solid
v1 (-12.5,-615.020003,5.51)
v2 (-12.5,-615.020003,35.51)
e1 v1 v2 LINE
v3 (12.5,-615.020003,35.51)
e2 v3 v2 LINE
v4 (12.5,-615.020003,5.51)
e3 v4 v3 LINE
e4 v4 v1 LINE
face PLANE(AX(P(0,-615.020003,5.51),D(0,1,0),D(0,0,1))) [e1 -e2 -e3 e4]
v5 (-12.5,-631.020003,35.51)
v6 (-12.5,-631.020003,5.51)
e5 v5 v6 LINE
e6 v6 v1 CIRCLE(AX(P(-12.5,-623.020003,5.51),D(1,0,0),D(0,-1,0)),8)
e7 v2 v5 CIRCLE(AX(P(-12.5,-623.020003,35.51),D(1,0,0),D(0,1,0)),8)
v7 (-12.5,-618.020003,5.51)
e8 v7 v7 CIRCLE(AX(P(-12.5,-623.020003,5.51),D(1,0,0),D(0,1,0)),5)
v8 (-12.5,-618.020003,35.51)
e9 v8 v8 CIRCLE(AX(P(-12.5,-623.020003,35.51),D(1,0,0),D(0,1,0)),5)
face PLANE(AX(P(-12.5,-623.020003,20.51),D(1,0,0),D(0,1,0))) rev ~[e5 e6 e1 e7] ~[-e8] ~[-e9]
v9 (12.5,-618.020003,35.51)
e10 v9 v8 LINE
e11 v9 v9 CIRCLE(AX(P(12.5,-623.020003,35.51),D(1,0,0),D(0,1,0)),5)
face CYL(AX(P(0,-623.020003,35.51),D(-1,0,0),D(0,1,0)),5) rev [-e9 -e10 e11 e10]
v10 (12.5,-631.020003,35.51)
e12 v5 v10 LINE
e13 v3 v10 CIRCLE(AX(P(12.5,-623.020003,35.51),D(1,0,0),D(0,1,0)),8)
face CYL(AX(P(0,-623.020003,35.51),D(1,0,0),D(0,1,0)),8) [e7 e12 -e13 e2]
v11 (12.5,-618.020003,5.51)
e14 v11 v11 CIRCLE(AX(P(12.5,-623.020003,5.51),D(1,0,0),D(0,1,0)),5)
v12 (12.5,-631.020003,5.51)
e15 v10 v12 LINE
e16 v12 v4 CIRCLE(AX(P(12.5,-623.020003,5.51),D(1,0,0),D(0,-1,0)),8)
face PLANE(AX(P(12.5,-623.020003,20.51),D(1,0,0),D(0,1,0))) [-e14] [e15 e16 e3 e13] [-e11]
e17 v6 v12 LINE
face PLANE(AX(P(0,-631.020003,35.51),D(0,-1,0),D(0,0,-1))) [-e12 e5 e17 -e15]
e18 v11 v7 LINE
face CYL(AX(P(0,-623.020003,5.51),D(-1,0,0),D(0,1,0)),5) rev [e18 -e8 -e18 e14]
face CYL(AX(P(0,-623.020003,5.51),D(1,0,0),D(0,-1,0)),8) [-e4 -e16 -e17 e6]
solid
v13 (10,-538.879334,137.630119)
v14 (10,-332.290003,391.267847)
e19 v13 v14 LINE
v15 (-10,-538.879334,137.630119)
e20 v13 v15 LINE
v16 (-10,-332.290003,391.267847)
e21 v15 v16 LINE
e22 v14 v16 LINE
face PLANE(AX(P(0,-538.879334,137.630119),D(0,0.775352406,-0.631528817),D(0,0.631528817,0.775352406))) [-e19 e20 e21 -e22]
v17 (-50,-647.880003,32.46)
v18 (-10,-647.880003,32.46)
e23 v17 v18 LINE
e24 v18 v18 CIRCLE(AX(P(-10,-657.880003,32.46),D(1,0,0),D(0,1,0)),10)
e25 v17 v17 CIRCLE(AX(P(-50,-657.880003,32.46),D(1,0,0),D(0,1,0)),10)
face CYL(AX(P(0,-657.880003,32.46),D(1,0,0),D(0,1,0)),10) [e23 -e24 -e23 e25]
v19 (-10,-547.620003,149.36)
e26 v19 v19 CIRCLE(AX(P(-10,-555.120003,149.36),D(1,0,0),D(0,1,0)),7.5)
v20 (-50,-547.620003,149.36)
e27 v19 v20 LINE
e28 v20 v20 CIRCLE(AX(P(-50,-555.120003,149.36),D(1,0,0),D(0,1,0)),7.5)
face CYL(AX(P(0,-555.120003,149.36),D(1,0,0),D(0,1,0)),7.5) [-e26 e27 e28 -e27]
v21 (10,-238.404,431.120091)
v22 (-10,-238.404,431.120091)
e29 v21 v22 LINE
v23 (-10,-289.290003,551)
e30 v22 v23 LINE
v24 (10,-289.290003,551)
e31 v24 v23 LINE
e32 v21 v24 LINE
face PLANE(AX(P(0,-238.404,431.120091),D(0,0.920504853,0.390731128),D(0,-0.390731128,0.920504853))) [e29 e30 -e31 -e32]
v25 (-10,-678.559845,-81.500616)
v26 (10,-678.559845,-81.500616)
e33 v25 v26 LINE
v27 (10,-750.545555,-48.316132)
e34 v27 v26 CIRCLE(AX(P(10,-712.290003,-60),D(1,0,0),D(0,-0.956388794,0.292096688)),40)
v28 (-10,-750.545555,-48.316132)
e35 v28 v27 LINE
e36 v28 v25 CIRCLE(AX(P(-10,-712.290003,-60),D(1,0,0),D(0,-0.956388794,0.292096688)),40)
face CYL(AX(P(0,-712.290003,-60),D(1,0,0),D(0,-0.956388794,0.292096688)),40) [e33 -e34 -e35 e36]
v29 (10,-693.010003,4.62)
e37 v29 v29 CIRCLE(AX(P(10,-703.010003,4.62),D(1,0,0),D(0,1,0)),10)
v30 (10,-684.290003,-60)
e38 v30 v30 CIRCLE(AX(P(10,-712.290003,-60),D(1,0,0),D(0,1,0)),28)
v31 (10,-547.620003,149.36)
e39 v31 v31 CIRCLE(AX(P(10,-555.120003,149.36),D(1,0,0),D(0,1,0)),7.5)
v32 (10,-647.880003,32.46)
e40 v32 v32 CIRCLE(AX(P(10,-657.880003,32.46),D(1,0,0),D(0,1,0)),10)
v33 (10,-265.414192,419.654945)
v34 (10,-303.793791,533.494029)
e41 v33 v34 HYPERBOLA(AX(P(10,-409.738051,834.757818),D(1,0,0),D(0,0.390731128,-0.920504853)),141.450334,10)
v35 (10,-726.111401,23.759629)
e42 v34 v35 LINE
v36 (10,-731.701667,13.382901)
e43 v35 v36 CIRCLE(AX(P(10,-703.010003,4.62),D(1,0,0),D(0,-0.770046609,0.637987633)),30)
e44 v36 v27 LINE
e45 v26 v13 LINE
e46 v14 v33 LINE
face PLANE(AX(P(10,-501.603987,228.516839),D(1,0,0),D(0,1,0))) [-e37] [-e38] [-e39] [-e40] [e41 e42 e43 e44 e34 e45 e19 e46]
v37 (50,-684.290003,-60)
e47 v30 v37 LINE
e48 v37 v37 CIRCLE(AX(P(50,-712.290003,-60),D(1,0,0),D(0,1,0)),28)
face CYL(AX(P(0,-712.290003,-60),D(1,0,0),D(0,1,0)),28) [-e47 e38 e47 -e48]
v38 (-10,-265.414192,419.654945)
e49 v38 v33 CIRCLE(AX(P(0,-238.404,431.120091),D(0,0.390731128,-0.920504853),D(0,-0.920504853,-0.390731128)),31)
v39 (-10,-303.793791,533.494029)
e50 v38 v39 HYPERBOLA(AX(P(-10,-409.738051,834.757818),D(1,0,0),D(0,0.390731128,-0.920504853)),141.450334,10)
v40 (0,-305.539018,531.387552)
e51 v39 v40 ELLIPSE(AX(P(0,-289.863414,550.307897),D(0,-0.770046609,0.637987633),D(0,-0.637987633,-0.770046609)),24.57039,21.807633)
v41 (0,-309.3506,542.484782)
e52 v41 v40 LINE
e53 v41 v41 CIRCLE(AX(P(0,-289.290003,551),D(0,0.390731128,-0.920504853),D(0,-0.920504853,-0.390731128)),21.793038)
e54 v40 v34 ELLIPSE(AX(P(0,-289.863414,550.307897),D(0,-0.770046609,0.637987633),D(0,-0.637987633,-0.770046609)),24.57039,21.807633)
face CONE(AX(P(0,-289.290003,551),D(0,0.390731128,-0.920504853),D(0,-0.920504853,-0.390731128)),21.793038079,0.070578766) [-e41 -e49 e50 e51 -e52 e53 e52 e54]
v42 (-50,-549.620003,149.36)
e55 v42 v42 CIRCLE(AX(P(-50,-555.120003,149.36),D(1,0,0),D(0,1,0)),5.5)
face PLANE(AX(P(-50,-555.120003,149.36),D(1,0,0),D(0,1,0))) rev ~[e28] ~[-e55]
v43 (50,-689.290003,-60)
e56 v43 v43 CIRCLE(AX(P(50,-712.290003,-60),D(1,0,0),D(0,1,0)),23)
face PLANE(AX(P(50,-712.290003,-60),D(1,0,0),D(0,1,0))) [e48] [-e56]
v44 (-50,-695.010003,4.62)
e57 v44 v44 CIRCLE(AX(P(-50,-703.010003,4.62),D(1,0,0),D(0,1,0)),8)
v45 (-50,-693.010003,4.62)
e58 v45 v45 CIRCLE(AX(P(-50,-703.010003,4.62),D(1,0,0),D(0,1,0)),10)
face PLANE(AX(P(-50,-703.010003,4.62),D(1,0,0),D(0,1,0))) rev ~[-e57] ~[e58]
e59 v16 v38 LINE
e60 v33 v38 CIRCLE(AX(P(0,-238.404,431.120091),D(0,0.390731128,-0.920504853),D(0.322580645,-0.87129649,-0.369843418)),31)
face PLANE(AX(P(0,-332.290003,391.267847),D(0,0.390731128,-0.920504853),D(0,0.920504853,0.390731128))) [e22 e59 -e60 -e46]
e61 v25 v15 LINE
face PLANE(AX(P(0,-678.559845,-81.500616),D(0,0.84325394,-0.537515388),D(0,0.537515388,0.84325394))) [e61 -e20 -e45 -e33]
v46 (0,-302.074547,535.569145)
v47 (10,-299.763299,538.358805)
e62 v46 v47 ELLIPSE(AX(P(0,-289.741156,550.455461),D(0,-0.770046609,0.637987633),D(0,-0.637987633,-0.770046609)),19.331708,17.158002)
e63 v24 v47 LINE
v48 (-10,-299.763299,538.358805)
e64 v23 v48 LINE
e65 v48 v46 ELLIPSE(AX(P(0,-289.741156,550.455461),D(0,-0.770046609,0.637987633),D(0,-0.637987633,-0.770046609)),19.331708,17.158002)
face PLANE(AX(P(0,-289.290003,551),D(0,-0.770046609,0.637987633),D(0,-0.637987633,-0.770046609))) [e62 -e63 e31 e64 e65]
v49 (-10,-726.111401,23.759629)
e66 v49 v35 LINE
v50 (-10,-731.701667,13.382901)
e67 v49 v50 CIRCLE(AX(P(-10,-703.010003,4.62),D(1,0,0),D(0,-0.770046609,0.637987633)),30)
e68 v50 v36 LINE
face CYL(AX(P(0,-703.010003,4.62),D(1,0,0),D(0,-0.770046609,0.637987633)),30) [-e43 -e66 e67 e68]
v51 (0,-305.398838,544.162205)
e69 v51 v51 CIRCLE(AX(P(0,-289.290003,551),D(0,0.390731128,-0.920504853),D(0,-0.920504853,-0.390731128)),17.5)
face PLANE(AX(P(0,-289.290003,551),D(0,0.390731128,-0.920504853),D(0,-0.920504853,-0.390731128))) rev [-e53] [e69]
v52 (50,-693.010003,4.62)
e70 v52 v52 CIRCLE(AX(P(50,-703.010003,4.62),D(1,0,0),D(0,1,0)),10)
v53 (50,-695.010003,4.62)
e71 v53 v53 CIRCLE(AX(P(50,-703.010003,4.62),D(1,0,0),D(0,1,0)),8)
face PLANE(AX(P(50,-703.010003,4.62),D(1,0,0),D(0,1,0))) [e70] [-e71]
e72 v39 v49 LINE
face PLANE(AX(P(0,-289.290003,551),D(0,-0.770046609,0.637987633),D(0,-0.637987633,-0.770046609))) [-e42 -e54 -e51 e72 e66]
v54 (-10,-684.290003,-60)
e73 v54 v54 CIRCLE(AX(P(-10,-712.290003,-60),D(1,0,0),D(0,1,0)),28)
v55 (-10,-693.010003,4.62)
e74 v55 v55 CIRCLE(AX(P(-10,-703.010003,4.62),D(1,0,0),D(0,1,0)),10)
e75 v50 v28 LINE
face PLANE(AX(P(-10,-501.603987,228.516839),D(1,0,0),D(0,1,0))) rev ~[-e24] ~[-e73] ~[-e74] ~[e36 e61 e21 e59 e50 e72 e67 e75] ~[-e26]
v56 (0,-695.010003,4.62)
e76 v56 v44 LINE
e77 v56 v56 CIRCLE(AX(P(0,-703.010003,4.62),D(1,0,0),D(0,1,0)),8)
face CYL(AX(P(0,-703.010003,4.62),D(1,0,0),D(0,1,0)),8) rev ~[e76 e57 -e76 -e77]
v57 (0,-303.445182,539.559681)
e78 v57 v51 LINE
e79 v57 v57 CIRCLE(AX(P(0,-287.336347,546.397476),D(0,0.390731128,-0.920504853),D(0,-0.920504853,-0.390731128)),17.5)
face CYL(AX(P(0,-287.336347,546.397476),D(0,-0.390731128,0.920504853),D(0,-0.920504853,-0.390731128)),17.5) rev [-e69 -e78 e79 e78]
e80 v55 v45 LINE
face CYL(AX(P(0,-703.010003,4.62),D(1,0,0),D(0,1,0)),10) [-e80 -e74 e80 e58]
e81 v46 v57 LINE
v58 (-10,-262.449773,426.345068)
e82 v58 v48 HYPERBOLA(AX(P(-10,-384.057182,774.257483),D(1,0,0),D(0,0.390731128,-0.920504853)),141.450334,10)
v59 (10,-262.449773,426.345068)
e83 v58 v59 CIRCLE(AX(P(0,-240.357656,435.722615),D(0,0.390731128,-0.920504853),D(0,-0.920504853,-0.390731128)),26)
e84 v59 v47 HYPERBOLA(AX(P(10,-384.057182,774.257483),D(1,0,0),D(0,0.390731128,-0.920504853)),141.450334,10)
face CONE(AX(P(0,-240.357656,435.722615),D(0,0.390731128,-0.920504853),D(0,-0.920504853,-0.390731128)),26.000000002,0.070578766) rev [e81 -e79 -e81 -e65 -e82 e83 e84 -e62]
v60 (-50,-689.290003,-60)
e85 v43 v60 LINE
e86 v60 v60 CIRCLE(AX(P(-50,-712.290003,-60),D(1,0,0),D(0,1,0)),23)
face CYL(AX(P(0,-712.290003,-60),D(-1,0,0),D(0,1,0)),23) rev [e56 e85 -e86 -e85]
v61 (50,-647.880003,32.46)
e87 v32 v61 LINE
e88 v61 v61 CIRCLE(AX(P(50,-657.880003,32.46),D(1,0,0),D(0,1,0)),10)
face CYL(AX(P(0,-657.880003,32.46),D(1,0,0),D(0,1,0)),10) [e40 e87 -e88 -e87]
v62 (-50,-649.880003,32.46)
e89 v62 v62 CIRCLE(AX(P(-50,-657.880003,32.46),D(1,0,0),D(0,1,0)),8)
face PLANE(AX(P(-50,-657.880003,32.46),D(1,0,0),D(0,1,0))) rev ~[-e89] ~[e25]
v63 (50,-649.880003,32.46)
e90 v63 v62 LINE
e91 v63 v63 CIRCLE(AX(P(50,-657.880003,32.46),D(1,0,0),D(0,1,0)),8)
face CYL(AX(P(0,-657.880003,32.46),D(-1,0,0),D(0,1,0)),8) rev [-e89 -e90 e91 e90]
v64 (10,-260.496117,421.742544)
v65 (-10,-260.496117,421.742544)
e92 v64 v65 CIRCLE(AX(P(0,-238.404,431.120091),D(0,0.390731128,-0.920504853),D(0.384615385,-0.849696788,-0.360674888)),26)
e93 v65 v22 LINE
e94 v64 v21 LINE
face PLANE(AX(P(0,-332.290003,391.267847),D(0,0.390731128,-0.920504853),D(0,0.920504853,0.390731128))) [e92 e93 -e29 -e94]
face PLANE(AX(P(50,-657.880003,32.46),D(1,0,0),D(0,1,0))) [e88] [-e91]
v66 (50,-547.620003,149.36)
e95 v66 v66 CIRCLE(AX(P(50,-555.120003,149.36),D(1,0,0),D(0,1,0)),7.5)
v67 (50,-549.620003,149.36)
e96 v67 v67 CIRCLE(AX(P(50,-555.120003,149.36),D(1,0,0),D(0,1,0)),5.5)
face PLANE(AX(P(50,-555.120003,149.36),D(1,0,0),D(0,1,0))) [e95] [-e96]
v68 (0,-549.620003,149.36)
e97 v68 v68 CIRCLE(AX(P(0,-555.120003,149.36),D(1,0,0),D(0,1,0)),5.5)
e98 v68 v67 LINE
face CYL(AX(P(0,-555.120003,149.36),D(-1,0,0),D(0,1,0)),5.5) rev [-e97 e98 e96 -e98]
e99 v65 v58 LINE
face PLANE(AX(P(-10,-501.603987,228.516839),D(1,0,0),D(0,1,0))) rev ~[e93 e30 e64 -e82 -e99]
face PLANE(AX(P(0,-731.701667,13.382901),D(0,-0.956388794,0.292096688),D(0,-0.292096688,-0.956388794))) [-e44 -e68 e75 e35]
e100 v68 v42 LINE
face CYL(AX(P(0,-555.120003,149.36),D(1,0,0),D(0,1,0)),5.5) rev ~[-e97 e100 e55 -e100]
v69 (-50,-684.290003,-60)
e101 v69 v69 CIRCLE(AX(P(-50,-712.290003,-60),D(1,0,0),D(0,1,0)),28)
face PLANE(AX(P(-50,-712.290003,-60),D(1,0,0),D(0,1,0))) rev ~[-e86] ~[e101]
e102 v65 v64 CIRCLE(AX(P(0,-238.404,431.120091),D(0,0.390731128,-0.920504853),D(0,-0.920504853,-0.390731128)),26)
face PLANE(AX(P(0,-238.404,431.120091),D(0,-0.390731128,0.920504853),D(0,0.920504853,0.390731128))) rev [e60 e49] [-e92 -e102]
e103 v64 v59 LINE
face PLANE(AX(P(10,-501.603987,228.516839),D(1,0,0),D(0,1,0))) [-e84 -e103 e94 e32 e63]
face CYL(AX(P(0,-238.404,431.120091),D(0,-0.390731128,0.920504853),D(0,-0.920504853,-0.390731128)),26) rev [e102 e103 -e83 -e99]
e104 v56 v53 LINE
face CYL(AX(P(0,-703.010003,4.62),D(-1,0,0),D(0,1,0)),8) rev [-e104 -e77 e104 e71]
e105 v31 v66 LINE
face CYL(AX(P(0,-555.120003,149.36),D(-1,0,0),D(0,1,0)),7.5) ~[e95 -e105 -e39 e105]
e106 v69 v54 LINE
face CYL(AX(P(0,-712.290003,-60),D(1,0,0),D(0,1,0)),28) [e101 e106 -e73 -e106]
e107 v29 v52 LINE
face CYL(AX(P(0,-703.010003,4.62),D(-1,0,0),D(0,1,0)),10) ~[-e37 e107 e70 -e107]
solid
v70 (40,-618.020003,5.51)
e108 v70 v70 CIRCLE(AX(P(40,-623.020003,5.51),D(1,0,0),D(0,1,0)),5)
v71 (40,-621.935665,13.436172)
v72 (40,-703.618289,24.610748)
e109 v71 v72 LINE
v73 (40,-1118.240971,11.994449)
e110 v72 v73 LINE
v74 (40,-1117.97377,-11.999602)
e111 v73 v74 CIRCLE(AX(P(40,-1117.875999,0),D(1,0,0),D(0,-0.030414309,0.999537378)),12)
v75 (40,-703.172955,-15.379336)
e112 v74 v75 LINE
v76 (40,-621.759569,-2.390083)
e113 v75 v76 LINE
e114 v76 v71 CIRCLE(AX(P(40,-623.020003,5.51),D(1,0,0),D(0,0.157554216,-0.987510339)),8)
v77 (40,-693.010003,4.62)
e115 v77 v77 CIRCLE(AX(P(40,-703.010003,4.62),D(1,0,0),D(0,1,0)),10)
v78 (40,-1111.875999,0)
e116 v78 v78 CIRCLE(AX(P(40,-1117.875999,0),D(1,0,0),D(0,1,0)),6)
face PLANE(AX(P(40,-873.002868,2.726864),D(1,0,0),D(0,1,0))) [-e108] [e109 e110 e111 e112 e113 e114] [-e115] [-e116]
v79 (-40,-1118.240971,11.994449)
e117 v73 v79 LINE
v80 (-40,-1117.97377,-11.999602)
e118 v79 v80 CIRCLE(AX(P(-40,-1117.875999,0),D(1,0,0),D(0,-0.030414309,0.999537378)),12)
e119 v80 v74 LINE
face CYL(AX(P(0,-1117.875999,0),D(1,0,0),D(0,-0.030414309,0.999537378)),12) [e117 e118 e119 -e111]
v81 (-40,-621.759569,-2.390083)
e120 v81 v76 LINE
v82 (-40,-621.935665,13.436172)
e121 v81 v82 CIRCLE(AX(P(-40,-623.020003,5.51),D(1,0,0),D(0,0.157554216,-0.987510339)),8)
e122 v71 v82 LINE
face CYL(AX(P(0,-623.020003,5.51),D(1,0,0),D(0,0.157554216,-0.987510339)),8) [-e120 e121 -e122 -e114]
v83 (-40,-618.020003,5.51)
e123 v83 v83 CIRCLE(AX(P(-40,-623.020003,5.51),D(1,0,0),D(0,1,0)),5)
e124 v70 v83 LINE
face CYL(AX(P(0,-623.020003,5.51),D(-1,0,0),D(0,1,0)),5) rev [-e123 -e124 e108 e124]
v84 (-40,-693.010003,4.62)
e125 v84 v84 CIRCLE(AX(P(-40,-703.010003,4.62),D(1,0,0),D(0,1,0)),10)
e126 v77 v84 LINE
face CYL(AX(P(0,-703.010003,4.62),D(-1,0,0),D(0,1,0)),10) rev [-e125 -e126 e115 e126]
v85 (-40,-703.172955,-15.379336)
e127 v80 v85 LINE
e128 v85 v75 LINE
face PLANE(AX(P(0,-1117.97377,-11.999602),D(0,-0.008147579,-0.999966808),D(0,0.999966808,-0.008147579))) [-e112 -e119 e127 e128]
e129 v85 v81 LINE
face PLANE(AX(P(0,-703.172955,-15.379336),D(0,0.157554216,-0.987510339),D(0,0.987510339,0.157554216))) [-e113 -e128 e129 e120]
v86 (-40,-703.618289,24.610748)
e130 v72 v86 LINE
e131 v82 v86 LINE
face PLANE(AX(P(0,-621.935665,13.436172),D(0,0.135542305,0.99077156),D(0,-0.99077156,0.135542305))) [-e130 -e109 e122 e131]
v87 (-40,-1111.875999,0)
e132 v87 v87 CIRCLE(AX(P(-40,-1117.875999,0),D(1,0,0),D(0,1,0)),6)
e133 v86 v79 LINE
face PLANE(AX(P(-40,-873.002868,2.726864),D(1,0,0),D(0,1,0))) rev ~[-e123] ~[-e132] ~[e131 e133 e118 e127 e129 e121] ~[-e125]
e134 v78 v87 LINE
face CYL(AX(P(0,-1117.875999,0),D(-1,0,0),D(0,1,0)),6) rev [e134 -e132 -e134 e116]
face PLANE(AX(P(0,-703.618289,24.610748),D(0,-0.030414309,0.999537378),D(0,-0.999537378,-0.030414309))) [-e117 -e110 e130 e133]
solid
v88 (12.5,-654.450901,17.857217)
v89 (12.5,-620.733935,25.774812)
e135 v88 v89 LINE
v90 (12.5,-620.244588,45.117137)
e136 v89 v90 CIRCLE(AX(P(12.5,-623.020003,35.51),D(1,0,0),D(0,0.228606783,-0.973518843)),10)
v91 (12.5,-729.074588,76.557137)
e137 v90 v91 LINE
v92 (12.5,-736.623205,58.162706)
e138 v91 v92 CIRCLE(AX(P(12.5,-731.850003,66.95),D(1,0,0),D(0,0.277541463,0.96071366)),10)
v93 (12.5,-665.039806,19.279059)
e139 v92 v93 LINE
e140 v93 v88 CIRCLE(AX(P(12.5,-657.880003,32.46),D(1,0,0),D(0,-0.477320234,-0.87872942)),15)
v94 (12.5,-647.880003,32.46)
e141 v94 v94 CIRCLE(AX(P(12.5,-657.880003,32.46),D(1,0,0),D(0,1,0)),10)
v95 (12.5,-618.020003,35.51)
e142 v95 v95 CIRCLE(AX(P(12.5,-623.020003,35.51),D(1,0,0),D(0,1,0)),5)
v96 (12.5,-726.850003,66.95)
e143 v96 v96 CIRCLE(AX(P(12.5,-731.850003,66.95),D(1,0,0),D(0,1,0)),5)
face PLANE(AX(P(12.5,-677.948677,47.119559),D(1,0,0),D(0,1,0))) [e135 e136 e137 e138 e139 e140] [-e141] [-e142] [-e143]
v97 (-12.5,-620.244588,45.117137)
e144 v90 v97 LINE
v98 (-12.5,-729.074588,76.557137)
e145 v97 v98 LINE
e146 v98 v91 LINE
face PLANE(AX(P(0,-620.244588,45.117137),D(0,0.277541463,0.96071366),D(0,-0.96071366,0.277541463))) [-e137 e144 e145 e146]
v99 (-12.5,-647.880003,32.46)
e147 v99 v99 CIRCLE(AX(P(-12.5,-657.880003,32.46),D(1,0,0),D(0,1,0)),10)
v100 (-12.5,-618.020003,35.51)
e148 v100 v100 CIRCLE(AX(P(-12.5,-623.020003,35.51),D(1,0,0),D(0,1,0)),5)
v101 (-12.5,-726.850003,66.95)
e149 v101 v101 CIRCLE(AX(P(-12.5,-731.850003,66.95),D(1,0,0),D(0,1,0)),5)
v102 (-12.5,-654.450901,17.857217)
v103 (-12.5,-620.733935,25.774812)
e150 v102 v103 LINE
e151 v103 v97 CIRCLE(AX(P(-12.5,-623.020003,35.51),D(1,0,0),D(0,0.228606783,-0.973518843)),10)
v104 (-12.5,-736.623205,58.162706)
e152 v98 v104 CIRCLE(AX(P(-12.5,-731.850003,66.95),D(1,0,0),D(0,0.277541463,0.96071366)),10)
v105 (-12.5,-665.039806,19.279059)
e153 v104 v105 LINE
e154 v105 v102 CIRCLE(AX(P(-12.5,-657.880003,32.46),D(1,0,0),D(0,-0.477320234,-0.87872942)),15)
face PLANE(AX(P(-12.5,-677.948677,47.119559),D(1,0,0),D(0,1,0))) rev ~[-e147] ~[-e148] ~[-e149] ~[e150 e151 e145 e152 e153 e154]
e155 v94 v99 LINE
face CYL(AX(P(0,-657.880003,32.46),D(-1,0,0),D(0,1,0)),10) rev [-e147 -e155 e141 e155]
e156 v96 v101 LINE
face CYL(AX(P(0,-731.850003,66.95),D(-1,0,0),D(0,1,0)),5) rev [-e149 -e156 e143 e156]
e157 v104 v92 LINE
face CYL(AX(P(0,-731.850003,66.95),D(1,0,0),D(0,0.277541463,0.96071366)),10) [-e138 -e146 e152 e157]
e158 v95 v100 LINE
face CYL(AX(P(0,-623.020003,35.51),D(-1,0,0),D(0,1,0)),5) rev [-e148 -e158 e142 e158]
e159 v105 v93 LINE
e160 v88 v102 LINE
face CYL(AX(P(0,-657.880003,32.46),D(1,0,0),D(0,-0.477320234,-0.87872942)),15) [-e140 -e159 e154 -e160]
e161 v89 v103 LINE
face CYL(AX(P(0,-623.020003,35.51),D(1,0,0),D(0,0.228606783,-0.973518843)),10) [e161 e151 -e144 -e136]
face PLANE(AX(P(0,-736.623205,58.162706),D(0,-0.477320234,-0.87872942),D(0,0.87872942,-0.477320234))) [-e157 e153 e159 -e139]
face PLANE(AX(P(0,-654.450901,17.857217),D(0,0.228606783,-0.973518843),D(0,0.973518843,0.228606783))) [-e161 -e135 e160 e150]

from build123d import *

# Parameters (mm, degrees)
F3_R      = 28
F3_R_2    = 23
F4_DEPTH  = 50
F6_R      = 28
F6_R_2    = 10
F6_R_3    = 7.5
F7_DEPTH  = 10
F8_R      = 7.5
F8_R_2    = 5.5
F8_R_3    = 10
F8_R_4    = 8
F9_DEPTH  = 50
F10_R     = 6
F10_R_2   = 10
F10_R_3   = 5
F11_DEPTH = 40
F12_R     = 10
F12_R_2   = 5
F13_DEPTH = 12.5
F14_R     = 5
F15_DEPTH = 12.5


with BuildPart() as f2:
    # F1 (on Right) → F2 (revolve)
    with BuildSketch(Plane.YZ):
        Polygon((-266.9396509428, 419.0074256556), (-262.3371266756, 420.961081298), (-264.290782318, 425.5636055653), (-303.4451822721, 539.5596809842), (-305.3988379146, 544.1622052514), (-309.3506002996, 542.4847816393), align=None)
    revolve(axis=Axis((0, -167.686068361, 264.5190829362), (0, 0.3907311285, -0.9205048535)))



with BuildPart() as f4:
    # F3 (on Right) → F4 (new body, symmetric)
    with BuildSketch(Plane.YZ):
        with Locations((-712.2900029792, -60)):
            Circle(F3_R)
        with Locations((-712.2900029792, -60)):
            Circle(F3_R_2, mode=Mode.SUBTRACT)
    extrude(amount=F4_DEPTH, both=True)


with BuildPart() as f2_1:
    add(f2.part)

    add(f4.part)  # F7 merges F4
    # F6 (on Right) → F7 (join, symmetric)
    with BuildSketch(Plane.YZ):
        with BuildLine():
            Line((-731.7016667887, 13.3829006523), (-750.5455547252, -48.3161324636))
            ThreePointArc((-750.5455547252, -48.3161324636), (-729.0358167039, -96.3259923842), (-678.5598453835, -81.5006155393))
            Line((-678.5598453835, -81.5006155393), (-538.8793337533, 137.6301187279))
            Line((-538.8793337533, 137.6301187279), (-332.2900029792, 391.2678469857))
            Line((-332.2900029792, 391.2678469857), (-238.4040004858, 431.1200906387))
            Line((-238.4040004858, 431.1200906387), (-289.2900029792, 551))
            Line((-289.2900029792, 551), (-726.1114012461, 23.7596289963))
            ThreePointArc((-726.1114012461, 23.7596289963), (-729.4211643053, 18.8485121291), (-731.7016667887, 13.3829006523))
        make_face()
        with Locations((-712.2900029792, -60)):
            Circle(F6_R, mode=Mode.SUBTRACT)
        with Locations((-703.0100029792, 4.62)):
            Circle(F6_R_2, mode=Mode.SUBTRACT)
        with Locations((-657.8800029792, 32.46)):
            Circle(F6_R_2, mode=Mode.SUBTRACT)
        with BuildLine():
            Line((-538.2549241813, 138.6096922303), (-538.8793337533, 137.6301187279))
            Line((-538.8793337533, 137.6301187279), (-539.6129548682, 136.7294236519))
            ThreePointArc((-539.6129548682, 136.7294236519), (-571.3333463306, 161.0701450618), (-538.2549241813, 138.6096922303))
        make_face(mode=Mode.SUBTRACT)
        with BuildLine():
            Line((-539.6129548682, 136.7294236519), (-538.8793337533, 137.6301187279))
            Line((-538.8793337533, 137.6301187279), (-538.2549241813, 138.6096922303))
            ThreePointArc((-538.2549241813, 138.6096922303), (-571.3333463306, 161.0701450618), (-539.6129548682, 136.7294236519))
        make_face()
        with Locations((-555.1200029792, 149.36)):
            Circle(F6_R_3, mode=Mode.SUBTRACT)
    extrude(amount=F7_DEPTH, both=True)

    # F8 (on Right) → F9 (join, symmetric)
    with BuildSketch(Plane.YZ):
        with Locations((-555.1200029792, 149.36)):
            Circle(F8_R)
        with Locations((-555.1200029792, 149.36)):
            Circle(F8_R_2, mode=Mode.SUBTRACT)
        with Locations((-703.0100029792, 4.62)):
            Circle(F8_R_3)
        with Locations((-703.0100029792, 4.62)):
            Circle(F8_R_4, mode=Mode.SUBTRACT)
        with Locations((-657.8800029792, 32.46)):
            Circle(F8_R_3)
        with Locations((-657.8800029792, 32.46)):
            Circle(F8_R_4, mode=Mode.SUBTRACT)
    extrude(amount=F9_DEPTH, both=True)


with BuildPart() as f11:
    # F10 (on Right) → F11 (new body, symmetric)
    with BuildSketch(Plane.YZ):
        with BuildLine():
            ThreePointArc((-1118.2409705034, 11.9944485346), (-1129.875254782, -0.1336252265), (-1117.9737697369, -11.9996016952))
            Line((-1117.9737697369, -11.9996016952), (-703.172954553, -15.3793361586))
            Line((-703.172954553, -15.3793361586), (-621.7595692531, -2.3900827098))
            ThreePointArc((-621.7595692531, -2.3900827098), (-615.0204981543, 5.5990087455), (-621.9356645429, 13.4361724783))
            Line((-621.9356645429, 13.4361724783), (-703.6182891638, 24.6107475577))
            Line((-703.6182891638, 24.6107475577), (-1118.2409705034, 11.9944485346))
        make_face()
        with Locations((-1117.8759987926, 0)):
            Circle(F10_R, mode=Mode.SUBTRACT)
        with Locations((-703.0100029792, 4.62)):
            Circle(F10_R_2, mode=Mode.SUBTRACT)
        with Locations((-623.0200029792, 5.51)):
            Circle(F10_R_3, mode=Mode.SUBTRACT)
    extrude(amount=F11_DEPTH, both=True)


with BuildPart() as f13:
    # F12 (on Right) → F13 (new body, symmetric)
    with BuildSketch(Plane.YZ):
        with BuildLine():
            Line((-620.244588345, 45.1171365978), (-729.074588345, 76.5571365978))
            ThreePointArc((-729.074588345, 76.5571365978), (-741.1013034314, 70.7465036472), (-736.6232053191, 58.1627057963))
            Line((-736.6232053191, 58.1627057963), (-665.0398064891, 19.2790586945))
            ThreePointArc((-665.0398064891, 19.2790586945), (-659.8762349557, 17.5934248095), (-654.4509012268, 17.8572173483))
            Line((-654.4509012268, 17.8572173483), (-620.7339351442, 25.7748115656))
            ThreePointArc((-620.7339351442, 25.7748115656), (-613.0232017103, 35.257088176), (-620.244588345, 45.1171365978))
        make_face()
        with Locations((-657.8800029792, 32.46)):
            Circle(F12_R, mode=Mode.SUBTRACT)
        with Locations((-623.0200029792, 35.51)):
            Circle(F12_R_2, mode=Mode.SUBTRACT)
        with Locations((-731.8500029792, 66.95)):
            Circle(F12_R_2, mode=Mode.SUBTRACT)
    extrude(amount=F13_DEPTH, both=True)


with BuildPart() as f15:
    # F14 (on Right) → F15 (new body, symmetric)
    with BuildSketch(Plane.YZ):
        with BuildLine():
            ThreePointArc((-615.0200029792, 35.51), (-623.0200029792, 43.51), (-631.0200029792, 35.51))
            Line((-631.0200029792, 35.51), (-631.0200029792, 5.51))
            ThreePointArc((-631.0200029792, 5.51), (-623.0200029792, -2.49), (-615.0200029792, 5.51))
            Line((-615.0200029792, 5.51), (-615.0200029792, 35.51))
        make_face()
        with Locations((-623.0200029792, 5.51)):
            Circle(F14_R, mode=Mode.SUBTRACT)
        with Locations((-623.0200029792, 35.51)):
            Circle(F14_R, mode=Mode.SUBTRACT)
    extrude(amount=F15_DEPTH, both=True)


solid = Compound([f2_1.part, f11.part, f13.part, f15.part])
